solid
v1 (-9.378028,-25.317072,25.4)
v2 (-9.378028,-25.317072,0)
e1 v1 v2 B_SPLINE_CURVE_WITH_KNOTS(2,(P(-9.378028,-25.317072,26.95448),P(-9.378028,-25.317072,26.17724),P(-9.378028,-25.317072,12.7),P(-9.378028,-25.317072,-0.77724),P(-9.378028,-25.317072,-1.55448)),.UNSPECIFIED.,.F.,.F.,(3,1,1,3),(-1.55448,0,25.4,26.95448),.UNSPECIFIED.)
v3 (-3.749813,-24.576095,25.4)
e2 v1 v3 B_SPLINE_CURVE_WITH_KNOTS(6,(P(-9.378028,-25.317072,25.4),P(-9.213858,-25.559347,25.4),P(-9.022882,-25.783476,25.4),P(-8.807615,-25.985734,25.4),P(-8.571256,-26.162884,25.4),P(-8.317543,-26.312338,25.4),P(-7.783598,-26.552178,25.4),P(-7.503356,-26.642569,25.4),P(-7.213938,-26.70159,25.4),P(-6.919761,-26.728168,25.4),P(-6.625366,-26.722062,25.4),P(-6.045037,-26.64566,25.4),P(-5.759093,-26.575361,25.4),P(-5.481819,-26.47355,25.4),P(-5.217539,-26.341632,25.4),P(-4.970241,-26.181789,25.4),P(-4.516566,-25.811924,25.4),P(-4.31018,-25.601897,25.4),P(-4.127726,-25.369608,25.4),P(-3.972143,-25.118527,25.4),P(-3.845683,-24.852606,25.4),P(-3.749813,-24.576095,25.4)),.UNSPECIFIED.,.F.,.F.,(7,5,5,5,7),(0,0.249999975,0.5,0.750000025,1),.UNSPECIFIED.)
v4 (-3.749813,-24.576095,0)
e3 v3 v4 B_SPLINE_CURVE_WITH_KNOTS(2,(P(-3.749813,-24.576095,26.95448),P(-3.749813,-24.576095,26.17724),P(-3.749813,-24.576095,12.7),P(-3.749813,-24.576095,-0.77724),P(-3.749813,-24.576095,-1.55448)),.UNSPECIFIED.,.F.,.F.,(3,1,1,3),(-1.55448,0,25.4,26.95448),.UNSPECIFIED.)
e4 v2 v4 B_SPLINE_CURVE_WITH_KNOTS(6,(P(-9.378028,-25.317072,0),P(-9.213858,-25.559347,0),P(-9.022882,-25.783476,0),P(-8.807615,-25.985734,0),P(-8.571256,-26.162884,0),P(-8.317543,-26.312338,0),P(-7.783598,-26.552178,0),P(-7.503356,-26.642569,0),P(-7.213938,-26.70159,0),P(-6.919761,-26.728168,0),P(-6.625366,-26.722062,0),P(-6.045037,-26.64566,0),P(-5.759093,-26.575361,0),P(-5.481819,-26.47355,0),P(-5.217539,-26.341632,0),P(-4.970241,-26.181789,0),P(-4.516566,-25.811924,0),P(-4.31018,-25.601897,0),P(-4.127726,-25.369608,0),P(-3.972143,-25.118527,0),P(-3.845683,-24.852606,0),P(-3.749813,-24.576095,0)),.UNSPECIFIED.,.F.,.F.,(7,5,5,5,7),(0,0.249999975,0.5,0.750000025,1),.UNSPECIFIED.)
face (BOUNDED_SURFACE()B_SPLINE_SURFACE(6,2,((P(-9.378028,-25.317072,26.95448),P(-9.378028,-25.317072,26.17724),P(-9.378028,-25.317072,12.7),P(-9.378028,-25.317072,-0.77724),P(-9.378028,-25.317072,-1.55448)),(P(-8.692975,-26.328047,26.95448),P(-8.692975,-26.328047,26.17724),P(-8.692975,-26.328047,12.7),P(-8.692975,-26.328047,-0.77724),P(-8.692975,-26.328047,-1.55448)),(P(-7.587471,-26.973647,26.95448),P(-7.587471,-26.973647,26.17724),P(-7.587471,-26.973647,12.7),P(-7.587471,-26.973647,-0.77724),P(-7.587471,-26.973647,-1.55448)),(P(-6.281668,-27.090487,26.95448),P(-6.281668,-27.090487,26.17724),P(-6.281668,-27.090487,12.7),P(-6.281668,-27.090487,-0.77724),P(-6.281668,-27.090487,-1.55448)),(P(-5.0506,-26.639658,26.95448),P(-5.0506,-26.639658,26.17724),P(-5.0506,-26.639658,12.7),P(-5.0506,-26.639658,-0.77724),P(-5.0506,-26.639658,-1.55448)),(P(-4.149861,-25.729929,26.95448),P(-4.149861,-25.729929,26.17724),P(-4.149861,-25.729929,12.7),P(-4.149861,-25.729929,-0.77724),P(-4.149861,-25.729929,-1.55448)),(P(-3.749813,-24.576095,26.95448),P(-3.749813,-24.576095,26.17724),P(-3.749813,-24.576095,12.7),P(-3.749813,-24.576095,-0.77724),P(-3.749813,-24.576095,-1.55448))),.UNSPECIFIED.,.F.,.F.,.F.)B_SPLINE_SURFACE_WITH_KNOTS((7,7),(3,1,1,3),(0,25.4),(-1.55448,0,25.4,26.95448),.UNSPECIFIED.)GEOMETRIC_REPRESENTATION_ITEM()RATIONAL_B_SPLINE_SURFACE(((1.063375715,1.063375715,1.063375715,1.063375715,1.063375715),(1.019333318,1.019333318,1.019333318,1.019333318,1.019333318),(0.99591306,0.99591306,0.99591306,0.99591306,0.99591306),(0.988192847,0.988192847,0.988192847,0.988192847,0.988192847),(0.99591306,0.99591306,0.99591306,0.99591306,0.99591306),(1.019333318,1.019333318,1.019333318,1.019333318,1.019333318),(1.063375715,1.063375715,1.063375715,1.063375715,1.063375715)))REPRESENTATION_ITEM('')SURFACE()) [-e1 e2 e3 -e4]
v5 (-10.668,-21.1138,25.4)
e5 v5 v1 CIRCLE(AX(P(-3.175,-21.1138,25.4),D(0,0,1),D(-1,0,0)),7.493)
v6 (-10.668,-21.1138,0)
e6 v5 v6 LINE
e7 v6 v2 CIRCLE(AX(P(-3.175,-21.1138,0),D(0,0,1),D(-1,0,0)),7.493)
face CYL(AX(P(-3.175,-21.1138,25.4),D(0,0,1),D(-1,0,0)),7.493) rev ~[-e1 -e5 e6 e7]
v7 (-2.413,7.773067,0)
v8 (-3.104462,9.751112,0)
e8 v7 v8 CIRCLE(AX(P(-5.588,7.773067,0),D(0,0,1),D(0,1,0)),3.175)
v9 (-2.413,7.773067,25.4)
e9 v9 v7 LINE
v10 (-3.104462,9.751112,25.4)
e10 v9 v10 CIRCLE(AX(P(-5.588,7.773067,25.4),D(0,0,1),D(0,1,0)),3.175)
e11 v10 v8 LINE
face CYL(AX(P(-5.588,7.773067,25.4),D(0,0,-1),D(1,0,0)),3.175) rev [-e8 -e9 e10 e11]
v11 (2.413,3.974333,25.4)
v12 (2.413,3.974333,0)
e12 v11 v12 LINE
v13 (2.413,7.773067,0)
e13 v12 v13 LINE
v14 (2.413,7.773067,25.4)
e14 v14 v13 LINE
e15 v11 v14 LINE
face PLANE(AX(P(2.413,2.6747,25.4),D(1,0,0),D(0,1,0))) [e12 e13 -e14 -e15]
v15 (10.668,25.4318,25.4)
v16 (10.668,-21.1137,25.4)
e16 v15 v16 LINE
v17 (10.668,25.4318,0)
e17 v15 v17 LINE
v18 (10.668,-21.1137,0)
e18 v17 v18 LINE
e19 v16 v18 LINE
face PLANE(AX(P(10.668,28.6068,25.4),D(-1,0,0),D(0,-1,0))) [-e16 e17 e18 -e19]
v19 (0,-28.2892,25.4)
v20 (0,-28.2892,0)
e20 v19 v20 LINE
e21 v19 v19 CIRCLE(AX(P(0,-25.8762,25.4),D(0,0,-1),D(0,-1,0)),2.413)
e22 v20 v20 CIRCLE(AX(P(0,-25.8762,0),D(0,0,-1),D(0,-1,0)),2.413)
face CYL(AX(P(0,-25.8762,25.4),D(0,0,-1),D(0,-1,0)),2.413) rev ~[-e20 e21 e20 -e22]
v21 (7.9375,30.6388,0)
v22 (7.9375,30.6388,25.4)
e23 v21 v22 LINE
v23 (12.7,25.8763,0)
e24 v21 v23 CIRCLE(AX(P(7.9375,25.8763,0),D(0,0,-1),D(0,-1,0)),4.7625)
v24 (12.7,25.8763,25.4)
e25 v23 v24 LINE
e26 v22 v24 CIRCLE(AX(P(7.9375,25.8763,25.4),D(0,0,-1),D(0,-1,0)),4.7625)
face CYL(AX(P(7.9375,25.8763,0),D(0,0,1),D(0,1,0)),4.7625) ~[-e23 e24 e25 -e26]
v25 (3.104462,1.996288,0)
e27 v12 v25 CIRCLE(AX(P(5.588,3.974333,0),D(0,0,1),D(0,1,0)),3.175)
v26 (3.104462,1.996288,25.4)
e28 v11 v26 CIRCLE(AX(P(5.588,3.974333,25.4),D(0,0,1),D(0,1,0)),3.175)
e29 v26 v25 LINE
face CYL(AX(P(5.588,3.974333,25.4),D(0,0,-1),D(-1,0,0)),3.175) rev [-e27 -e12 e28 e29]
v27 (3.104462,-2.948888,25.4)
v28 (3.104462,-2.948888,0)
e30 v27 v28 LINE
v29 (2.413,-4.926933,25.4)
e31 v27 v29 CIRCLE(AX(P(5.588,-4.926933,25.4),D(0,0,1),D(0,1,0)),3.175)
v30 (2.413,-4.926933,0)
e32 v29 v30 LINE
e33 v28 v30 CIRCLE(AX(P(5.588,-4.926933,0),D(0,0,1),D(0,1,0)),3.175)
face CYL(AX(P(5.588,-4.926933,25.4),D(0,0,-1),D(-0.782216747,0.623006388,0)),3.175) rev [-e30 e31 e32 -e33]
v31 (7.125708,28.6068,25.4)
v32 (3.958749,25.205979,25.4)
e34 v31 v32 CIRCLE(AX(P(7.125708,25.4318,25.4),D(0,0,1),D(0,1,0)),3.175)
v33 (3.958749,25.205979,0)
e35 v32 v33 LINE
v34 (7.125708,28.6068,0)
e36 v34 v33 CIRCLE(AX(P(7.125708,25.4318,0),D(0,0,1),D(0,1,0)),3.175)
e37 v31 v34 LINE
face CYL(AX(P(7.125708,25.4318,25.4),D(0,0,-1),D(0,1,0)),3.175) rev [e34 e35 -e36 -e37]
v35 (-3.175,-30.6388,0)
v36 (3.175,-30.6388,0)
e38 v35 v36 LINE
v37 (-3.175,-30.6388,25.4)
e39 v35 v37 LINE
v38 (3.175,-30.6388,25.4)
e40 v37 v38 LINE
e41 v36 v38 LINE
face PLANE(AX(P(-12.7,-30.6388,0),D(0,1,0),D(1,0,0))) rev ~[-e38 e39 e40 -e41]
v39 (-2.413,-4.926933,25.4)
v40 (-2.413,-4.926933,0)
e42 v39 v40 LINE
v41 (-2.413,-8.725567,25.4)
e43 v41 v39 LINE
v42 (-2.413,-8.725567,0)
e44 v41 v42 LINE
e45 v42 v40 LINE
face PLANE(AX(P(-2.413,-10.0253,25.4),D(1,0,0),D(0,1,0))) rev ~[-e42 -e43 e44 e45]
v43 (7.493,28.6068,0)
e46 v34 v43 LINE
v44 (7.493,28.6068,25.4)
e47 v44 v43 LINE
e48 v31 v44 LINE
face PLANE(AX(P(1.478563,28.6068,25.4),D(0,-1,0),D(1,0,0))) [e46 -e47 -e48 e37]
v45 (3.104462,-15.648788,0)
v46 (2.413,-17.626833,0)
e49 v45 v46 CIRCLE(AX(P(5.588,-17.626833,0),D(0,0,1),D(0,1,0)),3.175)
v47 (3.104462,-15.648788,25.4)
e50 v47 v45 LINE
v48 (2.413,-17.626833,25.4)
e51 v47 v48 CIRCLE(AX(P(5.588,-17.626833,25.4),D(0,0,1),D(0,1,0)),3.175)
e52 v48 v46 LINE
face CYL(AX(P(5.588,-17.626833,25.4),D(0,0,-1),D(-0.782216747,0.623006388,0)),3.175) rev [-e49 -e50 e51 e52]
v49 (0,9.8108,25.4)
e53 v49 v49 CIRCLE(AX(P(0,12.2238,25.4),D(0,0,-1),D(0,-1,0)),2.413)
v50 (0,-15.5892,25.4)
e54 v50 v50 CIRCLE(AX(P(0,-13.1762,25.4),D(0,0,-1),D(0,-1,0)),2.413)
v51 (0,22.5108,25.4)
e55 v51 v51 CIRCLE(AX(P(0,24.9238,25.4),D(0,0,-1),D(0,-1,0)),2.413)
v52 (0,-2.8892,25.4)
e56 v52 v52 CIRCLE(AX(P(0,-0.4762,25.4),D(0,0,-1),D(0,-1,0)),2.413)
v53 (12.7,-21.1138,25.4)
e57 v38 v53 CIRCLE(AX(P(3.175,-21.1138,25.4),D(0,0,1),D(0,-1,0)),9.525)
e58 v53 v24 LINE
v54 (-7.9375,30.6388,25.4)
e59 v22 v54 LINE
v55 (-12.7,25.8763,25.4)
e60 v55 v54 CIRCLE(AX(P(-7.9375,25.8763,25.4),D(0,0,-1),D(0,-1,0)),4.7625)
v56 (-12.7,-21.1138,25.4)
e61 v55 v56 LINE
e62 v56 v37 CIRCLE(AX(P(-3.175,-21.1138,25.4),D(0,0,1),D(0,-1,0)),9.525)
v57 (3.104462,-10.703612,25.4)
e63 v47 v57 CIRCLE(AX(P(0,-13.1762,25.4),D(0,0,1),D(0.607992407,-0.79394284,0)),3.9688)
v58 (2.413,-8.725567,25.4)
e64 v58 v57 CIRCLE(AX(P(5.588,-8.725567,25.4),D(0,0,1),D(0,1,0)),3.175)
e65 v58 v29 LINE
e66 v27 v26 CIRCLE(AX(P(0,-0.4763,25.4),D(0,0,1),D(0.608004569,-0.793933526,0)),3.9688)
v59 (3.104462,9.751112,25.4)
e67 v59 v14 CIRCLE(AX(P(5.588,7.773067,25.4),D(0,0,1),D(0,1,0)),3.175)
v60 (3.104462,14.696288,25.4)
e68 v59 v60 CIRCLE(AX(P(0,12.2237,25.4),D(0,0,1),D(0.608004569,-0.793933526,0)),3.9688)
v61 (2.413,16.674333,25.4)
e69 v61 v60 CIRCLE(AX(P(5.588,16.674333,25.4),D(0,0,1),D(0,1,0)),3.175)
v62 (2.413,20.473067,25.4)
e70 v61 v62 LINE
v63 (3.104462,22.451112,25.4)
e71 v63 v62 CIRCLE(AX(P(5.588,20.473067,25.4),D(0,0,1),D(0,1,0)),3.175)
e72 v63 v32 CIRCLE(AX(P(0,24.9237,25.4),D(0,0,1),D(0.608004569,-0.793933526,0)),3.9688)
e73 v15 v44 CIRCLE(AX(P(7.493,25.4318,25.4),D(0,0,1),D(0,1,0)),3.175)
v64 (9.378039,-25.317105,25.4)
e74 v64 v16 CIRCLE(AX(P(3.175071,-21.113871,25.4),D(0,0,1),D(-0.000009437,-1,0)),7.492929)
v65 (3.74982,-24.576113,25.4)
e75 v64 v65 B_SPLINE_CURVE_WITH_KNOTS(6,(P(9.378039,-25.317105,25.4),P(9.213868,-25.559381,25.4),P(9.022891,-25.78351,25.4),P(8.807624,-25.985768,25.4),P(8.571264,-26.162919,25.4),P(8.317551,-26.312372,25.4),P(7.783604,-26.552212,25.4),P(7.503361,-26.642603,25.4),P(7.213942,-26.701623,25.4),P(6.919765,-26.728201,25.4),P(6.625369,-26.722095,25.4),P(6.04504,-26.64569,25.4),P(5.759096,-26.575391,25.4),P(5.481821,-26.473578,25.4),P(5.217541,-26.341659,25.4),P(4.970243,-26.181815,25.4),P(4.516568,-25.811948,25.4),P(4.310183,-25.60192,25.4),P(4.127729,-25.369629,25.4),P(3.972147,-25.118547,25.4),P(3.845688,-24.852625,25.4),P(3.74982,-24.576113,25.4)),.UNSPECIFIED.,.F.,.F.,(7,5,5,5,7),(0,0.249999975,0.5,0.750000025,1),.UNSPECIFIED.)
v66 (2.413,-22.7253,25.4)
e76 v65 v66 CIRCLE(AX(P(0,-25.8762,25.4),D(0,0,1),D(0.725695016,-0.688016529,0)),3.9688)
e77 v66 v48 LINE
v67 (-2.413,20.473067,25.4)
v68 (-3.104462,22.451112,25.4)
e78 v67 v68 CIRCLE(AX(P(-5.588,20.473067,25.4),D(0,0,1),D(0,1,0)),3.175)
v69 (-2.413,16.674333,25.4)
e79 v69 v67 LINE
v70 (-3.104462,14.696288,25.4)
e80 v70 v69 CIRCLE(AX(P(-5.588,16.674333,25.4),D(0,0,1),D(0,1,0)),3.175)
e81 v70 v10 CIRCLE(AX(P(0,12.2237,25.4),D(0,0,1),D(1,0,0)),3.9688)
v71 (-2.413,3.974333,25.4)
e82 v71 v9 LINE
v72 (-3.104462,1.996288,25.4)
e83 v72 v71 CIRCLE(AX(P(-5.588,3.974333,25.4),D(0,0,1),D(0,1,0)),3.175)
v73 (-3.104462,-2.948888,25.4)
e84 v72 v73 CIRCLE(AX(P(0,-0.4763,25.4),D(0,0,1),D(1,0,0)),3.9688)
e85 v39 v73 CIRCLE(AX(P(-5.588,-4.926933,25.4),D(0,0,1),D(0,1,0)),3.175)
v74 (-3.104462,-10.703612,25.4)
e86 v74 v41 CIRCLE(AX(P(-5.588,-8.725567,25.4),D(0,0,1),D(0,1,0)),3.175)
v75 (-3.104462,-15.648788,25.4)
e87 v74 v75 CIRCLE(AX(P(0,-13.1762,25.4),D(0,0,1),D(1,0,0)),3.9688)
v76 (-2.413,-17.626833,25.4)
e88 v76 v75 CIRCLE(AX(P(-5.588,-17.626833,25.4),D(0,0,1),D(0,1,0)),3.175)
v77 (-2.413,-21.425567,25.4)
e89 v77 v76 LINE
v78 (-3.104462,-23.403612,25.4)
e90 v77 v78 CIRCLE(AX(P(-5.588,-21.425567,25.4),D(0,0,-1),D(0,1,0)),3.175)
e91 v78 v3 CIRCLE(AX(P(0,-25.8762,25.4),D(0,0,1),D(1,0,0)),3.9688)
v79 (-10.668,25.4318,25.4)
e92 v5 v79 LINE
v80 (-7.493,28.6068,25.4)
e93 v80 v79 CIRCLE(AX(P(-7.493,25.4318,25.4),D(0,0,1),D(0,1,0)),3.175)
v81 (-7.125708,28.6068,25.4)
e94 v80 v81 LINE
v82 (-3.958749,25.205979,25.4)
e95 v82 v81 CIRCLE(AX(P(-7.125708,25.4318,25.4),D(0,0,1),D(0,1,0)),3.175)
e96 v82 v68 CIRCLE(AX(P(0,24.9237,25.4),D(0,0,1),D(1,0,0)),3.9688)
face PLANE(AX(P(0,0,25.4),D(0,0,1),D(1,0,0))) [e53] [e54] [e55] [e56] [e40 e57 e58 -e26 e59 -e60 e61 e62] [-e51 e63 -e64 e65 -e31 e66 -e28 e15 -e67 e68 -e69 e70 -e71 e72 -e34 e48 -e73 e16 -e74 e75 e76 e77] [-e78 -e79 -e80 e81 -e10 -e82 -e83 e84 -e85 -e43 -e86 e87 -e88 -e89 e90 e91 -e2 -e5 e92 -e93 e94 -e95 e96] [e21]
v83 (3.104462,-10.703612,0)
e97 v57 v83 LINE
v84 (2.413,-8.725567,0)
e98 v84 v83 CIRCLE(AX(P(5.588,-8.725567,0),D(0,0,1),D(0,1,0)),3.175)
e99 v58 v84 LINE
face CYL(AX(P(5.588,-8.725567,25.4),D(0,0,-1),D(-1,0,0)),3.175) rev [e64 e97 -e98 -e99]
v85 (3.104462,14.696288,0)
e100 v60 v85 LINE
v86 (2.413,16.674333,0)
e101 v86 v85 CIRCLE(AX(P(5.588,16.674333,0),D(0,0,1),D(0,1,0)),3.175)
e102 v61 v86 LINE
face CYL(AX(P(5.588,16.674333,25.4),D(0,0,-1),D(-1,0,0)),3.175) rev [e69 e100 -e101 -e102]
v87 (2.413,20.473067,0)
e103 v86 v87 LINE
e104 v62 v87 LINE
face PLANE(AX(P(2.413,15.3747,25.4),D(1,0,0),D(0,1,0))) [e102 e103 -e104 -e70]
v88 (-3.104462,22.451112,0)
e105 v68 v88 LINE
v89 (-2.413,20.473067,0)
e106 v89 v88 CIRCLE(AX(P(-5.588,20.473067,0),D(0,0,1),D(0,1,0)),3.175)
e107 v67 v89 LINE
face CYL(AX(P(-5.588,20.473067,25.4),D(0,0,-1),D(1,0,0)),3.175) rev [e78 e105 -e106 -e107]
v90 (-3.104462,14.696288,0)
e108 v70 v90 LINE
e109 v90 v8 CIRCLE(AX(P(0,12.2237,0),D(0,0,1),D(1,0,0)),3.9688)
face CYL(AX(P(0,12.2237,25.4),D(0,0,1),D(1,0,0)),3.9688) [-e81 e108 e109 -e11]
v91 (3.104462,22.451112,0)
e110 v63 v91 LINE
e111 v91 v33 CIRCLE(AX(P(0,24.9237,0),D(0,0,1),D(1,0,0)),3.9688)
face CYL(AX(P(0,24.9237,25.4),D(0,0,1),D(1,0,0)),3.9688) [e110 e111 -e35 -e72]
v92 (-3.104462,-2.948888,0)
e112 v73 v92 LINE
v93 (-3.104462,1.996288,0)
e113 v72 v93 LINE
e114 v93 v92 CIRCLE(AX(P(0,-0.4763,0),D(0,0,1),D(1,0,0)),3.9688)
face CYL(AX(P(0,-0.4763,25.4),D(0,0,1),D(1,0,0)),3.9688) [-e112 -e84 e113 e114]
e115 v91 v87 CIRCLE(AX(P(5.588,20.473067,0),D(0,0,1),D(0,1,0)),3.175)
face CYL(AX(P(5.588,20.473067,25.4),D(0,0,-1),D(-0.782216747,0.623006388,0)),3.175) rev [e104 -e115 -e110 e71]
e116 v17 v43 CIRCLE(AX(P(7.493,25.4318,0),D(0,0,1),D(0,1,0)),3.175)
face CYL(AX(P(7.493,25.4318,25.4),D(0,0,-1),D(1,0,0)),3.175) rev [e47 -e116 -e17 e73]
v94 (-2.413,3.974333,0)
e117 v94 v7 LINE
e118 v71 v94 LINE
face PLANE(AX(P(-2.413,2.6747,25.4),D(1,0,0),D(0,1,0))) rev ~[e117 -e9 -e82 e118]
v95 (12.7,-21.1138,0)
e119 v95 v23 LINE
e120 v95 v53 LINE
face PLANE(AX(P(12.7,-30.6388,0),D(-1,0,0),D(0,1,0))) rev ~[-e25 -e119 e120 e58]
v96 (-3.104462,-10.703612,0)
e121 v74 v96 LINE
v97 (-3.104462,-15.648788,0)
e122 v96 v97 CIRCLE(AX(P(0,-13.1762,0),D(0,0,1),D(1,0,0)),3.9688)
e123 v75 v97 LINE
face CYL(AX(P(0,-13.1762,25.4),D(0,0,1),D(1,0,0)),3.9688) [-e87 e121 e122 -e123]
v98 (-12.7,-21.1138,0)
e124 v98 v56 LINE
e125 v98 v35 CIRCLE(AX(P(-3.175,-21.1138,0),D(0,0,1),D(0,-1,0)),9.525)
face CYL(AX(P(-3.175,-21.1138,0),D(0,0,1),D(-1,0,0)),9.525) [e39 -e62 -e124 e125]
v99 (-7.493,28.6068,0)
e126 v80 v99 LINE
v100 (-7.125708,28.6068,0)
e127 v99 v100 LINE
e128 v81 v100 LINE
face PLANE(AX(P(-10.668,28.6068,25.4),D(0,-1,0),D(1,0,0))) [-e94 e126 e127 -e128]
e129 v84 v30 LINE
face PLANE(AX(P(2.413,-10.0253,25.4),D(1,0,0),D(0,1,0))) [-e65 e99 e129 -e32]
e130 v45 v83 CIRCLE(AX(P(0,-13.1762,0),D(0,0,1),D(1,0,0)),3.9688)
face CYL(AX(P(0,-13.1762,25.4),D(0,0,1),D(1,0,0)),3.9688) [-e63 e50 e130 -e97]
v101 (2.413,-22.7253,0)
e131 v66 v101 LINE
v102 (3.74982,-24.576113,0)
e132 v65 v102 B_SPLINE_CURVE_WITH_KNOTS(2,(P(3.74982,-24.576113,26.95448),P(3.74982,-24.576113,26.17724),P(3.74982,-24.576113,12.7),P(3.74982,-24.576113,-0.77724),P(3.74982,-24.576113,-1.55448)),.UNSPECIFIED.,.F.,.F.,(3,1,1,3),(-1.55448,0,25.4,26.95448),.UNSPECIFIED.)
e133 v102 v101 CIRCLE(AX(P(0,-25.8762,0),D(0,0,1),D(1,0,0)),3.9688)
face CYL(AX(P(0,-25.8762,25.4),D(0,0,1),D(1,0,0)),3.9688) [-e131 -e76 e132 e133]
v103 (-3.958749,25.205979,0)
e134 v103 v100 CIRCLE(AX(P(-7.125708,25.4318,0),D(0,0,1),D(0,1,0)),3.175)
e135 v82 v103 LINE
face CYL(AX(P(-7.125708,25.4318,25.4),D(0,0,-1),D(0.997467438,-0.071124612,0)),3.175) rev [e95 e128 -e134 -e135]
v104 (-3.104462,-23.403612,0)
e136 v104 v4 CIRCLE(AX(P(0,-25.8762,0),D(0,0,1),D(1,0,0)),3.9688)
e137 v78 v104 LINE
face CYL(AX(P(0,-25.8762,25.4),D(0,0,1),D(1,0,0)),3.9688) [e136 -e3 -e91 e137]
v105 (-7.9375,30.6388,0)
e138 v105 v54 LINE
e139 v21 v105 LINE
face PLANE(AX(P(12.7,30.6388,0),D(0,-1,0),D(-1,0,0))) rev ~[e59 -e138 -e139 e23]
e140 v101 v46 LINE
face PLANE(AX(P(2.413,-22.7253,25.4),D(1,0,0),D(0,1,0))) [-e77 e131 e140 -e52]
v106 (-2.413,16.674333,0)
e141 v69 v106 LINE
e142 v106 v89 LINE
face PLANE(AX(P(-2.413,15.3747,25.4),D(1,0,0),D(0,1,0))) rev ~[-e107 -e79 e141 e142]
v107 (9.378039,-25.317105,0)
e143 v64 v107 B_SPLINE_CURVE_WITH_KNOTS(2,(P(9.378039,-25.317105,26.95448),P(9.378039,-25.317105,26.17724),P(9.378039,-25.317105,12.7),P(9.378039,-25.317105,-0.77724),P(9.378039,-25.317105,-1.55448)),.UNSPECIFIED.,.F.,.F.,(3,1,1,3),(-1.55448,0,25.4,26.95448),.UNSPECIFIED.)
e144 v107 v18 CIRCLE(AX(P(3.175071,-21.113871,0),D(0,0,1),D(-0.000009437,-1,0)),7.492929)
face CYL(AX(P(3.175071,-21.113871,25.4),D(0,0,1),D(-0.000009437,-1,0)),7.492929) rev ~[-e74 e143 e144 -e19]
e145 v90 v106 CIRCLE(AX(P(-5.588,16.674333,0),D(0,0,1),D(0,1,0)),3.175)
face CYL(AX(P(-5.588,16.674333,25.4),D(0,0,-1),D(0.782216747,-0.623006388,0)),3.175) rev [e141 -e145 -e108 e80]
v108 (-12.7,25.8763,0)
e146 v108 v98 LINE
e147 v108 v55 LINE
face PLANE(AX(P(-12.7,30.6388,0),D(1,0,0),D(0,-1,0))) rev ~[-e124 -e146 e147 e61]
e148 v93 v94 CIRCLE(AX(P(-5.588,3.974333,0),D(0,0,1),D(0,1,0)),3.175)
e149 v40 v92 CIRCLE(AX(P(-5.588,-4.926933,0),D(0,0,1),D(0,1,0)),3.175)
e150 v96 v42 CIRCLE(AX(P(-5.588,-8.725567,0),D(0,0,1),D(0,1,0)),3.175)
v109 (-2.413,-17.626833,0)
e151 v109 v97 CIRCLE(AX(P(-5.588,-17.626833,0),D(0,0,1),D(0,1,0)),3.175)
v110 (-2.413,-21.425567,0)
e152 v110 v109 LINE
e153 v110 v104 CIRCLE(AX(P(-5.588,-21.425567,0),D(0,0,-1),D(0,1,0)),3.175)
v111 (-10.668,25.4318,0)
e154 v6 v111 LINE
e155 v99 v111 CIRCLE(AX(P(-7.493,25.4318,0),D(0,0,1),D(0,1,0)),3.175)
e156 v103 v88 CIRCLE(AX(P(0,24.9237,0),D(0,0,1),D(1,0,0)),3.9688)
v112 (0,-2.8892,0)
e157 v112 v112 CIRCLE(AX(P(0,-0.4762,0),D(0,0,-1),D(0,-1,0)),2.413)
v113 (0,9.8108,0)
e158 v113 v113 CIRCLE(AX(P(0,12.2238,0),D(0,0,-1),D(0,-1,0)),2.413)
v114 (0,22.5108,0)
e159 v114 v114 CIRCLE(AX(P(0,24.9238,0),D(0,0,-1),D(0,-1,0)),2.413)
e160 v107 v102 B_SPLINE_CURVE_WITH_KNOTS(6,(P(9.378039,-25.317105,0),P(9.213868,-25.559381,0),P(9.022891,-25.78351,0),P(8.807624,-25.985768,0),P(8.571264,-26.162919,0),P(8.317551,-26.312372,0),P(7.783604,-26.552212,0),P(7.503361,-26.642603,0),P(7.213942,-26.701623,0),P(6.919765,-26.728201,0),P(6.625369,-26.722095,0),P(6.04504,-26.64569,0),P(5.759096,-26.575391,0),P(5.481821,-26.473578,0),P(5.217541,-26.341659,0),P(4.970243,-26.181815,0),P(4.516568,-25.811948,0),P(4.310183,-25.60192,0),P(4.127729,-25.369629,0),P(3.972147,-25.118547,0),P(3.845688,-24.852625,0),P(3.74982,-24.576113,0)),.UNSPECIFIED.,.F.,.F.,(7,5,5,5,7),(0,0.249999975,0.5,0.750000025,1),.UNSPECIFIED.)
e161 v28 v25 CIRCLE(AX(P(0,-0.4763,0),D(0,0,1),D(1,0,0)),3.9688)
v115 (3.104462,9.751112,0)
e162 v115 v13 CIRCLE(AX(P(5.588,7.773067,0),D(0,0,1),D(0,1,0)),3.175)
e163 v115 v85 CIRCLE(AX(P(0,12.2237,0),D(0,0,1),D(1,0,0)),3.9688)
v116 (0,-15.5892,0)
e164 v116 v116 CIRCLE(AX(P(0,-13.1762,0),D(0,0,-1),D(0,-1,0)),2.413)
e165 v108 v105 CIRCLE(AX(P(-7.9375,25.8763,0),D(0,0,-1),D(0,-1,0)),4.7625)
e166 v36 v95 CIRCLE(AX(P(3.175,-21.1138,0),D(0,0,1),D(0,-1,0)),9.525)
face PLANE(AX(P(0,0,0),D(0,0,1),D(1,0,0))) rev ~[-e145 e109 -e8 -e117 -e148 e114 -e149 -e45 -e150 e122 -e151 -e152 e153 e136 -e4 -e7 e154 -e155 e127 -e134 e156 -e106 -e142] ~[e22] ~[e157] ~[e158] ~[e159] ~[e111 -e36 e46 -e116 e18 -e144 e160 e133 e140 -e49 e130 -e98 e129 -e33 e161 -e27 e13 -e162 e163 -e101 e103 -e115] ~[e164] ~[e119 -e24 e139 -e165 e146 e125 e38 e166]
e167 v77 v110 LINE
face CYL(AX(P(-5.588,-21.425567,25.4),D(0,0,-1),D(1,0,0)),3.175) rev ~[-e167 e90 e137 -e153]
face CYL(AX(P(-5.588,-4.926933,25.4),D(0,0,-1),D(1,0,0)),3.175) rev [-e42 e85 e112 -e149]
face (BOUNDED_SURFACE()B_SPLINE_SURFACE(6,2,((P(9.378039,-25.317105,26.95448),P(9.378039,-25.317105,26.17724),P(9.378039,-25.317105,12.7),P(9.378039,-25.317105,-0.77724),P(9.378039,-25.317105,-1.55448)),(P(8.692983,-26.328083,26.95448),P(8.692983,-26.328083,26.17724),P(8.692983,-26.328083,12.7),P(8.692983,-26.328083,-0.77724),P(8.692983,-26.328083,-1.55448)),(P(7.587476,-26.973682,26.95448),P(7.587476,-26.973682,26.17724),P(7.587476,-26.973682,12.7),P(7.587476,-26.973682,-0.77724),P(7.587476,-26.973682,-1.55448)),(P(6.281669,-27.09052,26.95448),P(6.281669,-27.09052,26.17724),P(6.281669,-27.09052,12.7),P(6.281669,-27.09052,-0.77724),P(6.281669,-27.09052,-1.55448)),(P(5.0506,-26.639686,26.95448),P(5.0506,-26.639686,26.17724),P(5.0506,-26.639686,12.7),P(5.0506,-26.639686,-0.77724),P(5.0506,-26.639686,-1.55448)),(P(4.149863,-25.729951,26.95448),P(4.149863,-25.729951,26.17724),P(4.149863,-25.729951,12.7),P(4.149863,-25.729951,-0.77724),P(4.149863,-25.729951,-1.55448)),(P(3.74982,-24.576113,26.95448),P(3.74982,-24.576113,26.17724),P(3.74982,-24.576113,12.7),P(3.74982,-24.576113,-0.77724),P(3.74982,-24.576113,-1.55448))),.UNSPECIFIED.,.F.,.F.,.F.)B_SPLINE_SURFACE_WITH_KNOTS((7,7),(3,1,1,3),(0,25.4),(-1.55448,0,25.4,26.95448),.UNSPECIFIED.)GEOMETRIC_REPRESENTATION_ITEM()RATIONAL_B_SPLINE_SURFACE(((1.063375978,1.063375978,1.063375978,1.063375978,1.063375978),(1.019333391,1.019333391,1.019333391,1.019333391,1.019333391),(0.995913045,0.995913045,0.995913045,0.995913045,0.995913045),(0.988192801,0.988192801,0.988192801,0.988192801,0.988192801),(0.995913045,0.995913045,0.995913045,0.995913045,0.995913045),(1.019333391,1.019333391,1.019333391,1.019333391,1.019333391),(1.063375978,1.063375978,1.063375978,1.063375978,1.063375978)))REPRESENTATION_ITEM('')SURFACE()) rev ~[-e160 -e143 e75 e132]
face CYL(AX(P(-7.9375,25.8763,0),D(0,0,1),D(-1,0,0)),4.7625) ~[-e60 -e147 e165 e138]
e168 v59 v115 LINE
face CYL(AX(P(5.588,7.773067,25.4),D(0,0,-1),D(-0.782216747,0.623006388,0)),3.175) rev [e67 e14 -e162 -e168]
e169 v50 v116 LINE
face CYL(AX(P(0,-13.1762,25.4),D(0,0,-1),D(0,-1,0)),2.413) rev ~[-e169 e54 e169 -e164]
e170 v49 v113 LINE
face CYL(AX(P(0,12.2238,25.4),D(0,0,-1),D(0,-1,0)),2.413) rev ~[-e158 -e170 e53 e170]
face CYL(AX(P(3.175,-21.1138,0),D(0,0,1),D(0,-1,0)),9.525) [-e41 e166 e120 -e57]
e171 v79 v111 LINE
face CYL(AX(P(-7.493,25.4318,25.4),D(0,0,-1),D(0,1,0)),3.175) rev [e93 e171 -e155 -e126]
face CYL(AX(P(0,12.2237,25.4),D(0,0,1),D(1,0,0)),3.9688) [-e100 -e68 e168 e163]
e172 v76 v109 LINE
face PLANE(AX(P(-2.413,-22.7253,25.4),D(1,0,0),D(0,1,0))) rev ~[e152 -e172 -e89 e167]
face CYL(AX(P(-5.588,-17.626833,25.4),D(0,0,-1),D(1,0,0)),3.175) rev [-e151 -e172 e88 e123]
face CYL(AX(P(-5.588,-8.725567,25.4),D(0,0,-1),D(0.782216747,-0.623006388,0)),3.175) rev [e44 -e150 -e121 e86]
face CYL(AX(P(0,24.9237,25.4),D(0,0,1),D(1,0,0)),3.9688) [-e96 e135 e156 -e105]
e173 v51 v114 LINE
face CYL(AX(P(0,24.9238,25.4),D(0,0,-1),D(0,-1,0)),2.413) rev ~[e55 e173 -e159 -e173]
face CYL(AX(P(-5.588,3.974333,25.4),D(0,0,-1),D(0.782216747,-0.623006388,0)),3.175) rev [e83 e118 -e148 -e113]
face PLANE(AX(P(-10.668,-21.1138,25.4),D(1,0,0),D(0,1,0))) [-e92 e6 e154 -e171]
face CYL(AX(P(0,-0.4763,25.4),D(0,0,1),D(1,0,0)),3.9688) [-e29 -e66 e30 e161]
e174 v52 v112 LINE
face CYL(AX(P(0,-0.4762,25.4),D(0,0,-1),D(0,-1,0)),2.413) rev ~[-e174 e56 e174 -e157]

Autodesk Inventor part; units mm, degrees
ref_plane "YZ Plane" through (0, 0, 0) normal (1, 0, 0) x (0, 1, 0)
ref_plane "XZ Plane" through (0, 0, 0) normal (0, 1, 0) x (-1, 0, 0)
ref_plane "XY Plane" through (0, 0, 0) normal (0, 0, 1) x (1, 0, 0)
sketch "Sketch2" plane through (0, 0, 0) normal (0, 0, 1) x (1, 0, 0)
  line L0 (-12.7, -30.6388) -> (12.7, -30.6388)
  line L1 (12.7, -30.6388) -> (12.7, 30.6388)
  line L2 (12.7, 30.6388) -> (-12.7, 30.6388)
  line L3 (-12.7, 30.6388) -> (-12.7, -30.6388)
  line L4 (-12.7, -30.6388) -> (12.7, 30.6388) construction
  line L5 (12.7, -30.6388) -> (-12.7, 30.6388) construction
  line L6 (0, 30.6388) -> (0, -30.6388) construction
  point P0 (0, 0)
  dimension "d0" = 25.4
  dimension "d1" = 61.2775
extrude "Extrusion1" add sketch "Sketch2" along normal blind 25.4
sketch "Sketch3" plane through (0, 0, 25.4) normal (0, 0, 1) x (1, 0, 0)
  line L0 (-12.7, -30.6388) -> (12.7, -30.6388) construction
  point P0 (0, 0)
  point P1 (0, -25.8762)
  dimension "d5" = 4.7625
hole "Hole1" at (0, -25.8762, 25.4) direction (0, 0, -1) diameter 4.826 end through all clearance for "Flat Head Machine Screw (82)" size "#10" standard "Ansi Unified Screw Threads"
fillet "Fillet1" radius 9.525 2 edges at (-12.7, -30.6388, 12.7) (12.7, -30.6388, 12.7)
pattern_linear "Rectangular Pattern1" count 5 spacing 12.7 along (0, 1, 0) of "Hole1"
sketch "Sketch4" plane through (0, 0, 25.4) normal (0, 0, 1) x (1, 0, 0)
  circle A0 centre (0, 24.9237) radius 2.413 projected
  circle A1 centre (0, 12.2237) radius 2.413 projected
  circle A2 centre (0, -0.4763) radius 2.413 projected
  circle A3 centre (0, -13.1762) radius 2.413 projected
  arc A4 (3.175, -30.6388) -> (12.7, -21.1137) centre (3.175, -21.1137) ccw projected
  line L0 (12.7, -21.1137) -> (12.7, 30.6388) projected
  line L1 (12.7, 30.6388) -> (-12.7, 30.6388) projected
  line L2 (-12.7, 30.6388) -> (-12.7, -21.1138) projected
  arc A5 (-12.7, -21.1138) -> (-3.175, -30.6388) centre (-3.175, -21.1138) ccw projected
  line L3 (-3.175, -30.6388) -> (3.175, -30.6388) projected
  circle A6 centre (0, -25.8762) radius 2.413 projected
  circle A7 centre (0, -25.8762) radius 3.9688
  circle A8 centre (0, -13.1762) radius 3.9688
  circle A9 centre (0, -0.4763) radius 3.9688
  circle A10 centre (0, 12.2237) radius 3.9688
  circle A11 centre (0, 24.9237) radius 3.9688
  line L4 (2.413, -22.7253) -> (2.413, -16.3272)
  line L5 (2.413, -10.0253) -> (2.413, -3.6272)
  line L6 (-2.413, -22.7253) -> (-2.413, -16.3272)
  line L7 (-2.413, -10.0253) -> (-2.413, -3.6272)
  line L8 (2.413, 2.6747) -> (2.413, 9.0728)
  line L9 (-2.413, 2.6747) -> (-2.413, 9.0728)
  line L10 (-2.413, 15.3747) -> (-2.413, 21.7728)
  line L11 (2.413, 15.3747) -> (2.413, 21.7728)
  arc A12 (-10.668, -21.1138) -> (-3.175, -28.6068) centre (-3.175, -21.1138) ccw
  line L12 (-10.668, -21.1138) -> (-10.668, 28.6068)
  line L13 (-10.668, 28.6068) -> (10.668, 28.6068)
  line L14 (10.668, 28.6068) -> (10.668, -21.1137)
  arc A13 (3.175, -28.6068) -> (10.668, -21.1137) centre (3.175, -21.1137) ccw
  line L15 (3.175, -28.6068) -> (-3.175, -28.6068)
  point P0 (0, 0)
  point P1 (1.4787, 28.6068)
  point P2 (2.8802, -28.6068)
  point P3 (-2.8802, -28.6068)
  point P4 (-1.4787, 28.6068)
  dimension "d16" = 7.9375
  dimension "d17" = 2.032
extrude "Extrusion2" cut sketch "Sketch4" against normal through all contours A7 L4 A8 L5 A9 L8 A10 L11 A11 L13 L14 A13 L15 | A7 L15 A12 L12 L13 A11 L10 A10 L9 A9 L7 A8 L6
fillet "Fillet2" radius 3.175 21 edges at (2.8802, -28.6068, 12.7) (-2.8802, -28.6068, 12.7) (-1.4787, 28.6068, 12.7) (1.4787, 28.6068, 12.7) (-10.668, 28.6068, 12.7) (10.668, 28.6068, 12.7) (2.413, -16.3272, 12.7) (2.413, -10.0253, 12.7) (2.413, -3.6272, 12.7) (2.413, 2.6747, 12.7) (2.413, 9.0728, 12.7) (2.413, 15.3747, 12.7) (2.413, 21.7728, 12.7) (-2.413, -16.3272, 12.7) (-2.413, -10.0253, 12.7) (-2.413, -3.6272, 12.7) (-2.413, 2.6747, 12.7) (-2.413, 9.0728, 12.7) (-2.413, 15.3747, 12.7) (-2.413, 21.7728, 12.7) (-2.413, -22.7253, 12.7)
fillet "Fillet3" radius 4.7625 2 edges at (12.7, 30.6388, 12.7) (-12.7, 30.6388, 12.7)
properties part number "SDS LOWERING SPACER" material "Aluminum 7075"
